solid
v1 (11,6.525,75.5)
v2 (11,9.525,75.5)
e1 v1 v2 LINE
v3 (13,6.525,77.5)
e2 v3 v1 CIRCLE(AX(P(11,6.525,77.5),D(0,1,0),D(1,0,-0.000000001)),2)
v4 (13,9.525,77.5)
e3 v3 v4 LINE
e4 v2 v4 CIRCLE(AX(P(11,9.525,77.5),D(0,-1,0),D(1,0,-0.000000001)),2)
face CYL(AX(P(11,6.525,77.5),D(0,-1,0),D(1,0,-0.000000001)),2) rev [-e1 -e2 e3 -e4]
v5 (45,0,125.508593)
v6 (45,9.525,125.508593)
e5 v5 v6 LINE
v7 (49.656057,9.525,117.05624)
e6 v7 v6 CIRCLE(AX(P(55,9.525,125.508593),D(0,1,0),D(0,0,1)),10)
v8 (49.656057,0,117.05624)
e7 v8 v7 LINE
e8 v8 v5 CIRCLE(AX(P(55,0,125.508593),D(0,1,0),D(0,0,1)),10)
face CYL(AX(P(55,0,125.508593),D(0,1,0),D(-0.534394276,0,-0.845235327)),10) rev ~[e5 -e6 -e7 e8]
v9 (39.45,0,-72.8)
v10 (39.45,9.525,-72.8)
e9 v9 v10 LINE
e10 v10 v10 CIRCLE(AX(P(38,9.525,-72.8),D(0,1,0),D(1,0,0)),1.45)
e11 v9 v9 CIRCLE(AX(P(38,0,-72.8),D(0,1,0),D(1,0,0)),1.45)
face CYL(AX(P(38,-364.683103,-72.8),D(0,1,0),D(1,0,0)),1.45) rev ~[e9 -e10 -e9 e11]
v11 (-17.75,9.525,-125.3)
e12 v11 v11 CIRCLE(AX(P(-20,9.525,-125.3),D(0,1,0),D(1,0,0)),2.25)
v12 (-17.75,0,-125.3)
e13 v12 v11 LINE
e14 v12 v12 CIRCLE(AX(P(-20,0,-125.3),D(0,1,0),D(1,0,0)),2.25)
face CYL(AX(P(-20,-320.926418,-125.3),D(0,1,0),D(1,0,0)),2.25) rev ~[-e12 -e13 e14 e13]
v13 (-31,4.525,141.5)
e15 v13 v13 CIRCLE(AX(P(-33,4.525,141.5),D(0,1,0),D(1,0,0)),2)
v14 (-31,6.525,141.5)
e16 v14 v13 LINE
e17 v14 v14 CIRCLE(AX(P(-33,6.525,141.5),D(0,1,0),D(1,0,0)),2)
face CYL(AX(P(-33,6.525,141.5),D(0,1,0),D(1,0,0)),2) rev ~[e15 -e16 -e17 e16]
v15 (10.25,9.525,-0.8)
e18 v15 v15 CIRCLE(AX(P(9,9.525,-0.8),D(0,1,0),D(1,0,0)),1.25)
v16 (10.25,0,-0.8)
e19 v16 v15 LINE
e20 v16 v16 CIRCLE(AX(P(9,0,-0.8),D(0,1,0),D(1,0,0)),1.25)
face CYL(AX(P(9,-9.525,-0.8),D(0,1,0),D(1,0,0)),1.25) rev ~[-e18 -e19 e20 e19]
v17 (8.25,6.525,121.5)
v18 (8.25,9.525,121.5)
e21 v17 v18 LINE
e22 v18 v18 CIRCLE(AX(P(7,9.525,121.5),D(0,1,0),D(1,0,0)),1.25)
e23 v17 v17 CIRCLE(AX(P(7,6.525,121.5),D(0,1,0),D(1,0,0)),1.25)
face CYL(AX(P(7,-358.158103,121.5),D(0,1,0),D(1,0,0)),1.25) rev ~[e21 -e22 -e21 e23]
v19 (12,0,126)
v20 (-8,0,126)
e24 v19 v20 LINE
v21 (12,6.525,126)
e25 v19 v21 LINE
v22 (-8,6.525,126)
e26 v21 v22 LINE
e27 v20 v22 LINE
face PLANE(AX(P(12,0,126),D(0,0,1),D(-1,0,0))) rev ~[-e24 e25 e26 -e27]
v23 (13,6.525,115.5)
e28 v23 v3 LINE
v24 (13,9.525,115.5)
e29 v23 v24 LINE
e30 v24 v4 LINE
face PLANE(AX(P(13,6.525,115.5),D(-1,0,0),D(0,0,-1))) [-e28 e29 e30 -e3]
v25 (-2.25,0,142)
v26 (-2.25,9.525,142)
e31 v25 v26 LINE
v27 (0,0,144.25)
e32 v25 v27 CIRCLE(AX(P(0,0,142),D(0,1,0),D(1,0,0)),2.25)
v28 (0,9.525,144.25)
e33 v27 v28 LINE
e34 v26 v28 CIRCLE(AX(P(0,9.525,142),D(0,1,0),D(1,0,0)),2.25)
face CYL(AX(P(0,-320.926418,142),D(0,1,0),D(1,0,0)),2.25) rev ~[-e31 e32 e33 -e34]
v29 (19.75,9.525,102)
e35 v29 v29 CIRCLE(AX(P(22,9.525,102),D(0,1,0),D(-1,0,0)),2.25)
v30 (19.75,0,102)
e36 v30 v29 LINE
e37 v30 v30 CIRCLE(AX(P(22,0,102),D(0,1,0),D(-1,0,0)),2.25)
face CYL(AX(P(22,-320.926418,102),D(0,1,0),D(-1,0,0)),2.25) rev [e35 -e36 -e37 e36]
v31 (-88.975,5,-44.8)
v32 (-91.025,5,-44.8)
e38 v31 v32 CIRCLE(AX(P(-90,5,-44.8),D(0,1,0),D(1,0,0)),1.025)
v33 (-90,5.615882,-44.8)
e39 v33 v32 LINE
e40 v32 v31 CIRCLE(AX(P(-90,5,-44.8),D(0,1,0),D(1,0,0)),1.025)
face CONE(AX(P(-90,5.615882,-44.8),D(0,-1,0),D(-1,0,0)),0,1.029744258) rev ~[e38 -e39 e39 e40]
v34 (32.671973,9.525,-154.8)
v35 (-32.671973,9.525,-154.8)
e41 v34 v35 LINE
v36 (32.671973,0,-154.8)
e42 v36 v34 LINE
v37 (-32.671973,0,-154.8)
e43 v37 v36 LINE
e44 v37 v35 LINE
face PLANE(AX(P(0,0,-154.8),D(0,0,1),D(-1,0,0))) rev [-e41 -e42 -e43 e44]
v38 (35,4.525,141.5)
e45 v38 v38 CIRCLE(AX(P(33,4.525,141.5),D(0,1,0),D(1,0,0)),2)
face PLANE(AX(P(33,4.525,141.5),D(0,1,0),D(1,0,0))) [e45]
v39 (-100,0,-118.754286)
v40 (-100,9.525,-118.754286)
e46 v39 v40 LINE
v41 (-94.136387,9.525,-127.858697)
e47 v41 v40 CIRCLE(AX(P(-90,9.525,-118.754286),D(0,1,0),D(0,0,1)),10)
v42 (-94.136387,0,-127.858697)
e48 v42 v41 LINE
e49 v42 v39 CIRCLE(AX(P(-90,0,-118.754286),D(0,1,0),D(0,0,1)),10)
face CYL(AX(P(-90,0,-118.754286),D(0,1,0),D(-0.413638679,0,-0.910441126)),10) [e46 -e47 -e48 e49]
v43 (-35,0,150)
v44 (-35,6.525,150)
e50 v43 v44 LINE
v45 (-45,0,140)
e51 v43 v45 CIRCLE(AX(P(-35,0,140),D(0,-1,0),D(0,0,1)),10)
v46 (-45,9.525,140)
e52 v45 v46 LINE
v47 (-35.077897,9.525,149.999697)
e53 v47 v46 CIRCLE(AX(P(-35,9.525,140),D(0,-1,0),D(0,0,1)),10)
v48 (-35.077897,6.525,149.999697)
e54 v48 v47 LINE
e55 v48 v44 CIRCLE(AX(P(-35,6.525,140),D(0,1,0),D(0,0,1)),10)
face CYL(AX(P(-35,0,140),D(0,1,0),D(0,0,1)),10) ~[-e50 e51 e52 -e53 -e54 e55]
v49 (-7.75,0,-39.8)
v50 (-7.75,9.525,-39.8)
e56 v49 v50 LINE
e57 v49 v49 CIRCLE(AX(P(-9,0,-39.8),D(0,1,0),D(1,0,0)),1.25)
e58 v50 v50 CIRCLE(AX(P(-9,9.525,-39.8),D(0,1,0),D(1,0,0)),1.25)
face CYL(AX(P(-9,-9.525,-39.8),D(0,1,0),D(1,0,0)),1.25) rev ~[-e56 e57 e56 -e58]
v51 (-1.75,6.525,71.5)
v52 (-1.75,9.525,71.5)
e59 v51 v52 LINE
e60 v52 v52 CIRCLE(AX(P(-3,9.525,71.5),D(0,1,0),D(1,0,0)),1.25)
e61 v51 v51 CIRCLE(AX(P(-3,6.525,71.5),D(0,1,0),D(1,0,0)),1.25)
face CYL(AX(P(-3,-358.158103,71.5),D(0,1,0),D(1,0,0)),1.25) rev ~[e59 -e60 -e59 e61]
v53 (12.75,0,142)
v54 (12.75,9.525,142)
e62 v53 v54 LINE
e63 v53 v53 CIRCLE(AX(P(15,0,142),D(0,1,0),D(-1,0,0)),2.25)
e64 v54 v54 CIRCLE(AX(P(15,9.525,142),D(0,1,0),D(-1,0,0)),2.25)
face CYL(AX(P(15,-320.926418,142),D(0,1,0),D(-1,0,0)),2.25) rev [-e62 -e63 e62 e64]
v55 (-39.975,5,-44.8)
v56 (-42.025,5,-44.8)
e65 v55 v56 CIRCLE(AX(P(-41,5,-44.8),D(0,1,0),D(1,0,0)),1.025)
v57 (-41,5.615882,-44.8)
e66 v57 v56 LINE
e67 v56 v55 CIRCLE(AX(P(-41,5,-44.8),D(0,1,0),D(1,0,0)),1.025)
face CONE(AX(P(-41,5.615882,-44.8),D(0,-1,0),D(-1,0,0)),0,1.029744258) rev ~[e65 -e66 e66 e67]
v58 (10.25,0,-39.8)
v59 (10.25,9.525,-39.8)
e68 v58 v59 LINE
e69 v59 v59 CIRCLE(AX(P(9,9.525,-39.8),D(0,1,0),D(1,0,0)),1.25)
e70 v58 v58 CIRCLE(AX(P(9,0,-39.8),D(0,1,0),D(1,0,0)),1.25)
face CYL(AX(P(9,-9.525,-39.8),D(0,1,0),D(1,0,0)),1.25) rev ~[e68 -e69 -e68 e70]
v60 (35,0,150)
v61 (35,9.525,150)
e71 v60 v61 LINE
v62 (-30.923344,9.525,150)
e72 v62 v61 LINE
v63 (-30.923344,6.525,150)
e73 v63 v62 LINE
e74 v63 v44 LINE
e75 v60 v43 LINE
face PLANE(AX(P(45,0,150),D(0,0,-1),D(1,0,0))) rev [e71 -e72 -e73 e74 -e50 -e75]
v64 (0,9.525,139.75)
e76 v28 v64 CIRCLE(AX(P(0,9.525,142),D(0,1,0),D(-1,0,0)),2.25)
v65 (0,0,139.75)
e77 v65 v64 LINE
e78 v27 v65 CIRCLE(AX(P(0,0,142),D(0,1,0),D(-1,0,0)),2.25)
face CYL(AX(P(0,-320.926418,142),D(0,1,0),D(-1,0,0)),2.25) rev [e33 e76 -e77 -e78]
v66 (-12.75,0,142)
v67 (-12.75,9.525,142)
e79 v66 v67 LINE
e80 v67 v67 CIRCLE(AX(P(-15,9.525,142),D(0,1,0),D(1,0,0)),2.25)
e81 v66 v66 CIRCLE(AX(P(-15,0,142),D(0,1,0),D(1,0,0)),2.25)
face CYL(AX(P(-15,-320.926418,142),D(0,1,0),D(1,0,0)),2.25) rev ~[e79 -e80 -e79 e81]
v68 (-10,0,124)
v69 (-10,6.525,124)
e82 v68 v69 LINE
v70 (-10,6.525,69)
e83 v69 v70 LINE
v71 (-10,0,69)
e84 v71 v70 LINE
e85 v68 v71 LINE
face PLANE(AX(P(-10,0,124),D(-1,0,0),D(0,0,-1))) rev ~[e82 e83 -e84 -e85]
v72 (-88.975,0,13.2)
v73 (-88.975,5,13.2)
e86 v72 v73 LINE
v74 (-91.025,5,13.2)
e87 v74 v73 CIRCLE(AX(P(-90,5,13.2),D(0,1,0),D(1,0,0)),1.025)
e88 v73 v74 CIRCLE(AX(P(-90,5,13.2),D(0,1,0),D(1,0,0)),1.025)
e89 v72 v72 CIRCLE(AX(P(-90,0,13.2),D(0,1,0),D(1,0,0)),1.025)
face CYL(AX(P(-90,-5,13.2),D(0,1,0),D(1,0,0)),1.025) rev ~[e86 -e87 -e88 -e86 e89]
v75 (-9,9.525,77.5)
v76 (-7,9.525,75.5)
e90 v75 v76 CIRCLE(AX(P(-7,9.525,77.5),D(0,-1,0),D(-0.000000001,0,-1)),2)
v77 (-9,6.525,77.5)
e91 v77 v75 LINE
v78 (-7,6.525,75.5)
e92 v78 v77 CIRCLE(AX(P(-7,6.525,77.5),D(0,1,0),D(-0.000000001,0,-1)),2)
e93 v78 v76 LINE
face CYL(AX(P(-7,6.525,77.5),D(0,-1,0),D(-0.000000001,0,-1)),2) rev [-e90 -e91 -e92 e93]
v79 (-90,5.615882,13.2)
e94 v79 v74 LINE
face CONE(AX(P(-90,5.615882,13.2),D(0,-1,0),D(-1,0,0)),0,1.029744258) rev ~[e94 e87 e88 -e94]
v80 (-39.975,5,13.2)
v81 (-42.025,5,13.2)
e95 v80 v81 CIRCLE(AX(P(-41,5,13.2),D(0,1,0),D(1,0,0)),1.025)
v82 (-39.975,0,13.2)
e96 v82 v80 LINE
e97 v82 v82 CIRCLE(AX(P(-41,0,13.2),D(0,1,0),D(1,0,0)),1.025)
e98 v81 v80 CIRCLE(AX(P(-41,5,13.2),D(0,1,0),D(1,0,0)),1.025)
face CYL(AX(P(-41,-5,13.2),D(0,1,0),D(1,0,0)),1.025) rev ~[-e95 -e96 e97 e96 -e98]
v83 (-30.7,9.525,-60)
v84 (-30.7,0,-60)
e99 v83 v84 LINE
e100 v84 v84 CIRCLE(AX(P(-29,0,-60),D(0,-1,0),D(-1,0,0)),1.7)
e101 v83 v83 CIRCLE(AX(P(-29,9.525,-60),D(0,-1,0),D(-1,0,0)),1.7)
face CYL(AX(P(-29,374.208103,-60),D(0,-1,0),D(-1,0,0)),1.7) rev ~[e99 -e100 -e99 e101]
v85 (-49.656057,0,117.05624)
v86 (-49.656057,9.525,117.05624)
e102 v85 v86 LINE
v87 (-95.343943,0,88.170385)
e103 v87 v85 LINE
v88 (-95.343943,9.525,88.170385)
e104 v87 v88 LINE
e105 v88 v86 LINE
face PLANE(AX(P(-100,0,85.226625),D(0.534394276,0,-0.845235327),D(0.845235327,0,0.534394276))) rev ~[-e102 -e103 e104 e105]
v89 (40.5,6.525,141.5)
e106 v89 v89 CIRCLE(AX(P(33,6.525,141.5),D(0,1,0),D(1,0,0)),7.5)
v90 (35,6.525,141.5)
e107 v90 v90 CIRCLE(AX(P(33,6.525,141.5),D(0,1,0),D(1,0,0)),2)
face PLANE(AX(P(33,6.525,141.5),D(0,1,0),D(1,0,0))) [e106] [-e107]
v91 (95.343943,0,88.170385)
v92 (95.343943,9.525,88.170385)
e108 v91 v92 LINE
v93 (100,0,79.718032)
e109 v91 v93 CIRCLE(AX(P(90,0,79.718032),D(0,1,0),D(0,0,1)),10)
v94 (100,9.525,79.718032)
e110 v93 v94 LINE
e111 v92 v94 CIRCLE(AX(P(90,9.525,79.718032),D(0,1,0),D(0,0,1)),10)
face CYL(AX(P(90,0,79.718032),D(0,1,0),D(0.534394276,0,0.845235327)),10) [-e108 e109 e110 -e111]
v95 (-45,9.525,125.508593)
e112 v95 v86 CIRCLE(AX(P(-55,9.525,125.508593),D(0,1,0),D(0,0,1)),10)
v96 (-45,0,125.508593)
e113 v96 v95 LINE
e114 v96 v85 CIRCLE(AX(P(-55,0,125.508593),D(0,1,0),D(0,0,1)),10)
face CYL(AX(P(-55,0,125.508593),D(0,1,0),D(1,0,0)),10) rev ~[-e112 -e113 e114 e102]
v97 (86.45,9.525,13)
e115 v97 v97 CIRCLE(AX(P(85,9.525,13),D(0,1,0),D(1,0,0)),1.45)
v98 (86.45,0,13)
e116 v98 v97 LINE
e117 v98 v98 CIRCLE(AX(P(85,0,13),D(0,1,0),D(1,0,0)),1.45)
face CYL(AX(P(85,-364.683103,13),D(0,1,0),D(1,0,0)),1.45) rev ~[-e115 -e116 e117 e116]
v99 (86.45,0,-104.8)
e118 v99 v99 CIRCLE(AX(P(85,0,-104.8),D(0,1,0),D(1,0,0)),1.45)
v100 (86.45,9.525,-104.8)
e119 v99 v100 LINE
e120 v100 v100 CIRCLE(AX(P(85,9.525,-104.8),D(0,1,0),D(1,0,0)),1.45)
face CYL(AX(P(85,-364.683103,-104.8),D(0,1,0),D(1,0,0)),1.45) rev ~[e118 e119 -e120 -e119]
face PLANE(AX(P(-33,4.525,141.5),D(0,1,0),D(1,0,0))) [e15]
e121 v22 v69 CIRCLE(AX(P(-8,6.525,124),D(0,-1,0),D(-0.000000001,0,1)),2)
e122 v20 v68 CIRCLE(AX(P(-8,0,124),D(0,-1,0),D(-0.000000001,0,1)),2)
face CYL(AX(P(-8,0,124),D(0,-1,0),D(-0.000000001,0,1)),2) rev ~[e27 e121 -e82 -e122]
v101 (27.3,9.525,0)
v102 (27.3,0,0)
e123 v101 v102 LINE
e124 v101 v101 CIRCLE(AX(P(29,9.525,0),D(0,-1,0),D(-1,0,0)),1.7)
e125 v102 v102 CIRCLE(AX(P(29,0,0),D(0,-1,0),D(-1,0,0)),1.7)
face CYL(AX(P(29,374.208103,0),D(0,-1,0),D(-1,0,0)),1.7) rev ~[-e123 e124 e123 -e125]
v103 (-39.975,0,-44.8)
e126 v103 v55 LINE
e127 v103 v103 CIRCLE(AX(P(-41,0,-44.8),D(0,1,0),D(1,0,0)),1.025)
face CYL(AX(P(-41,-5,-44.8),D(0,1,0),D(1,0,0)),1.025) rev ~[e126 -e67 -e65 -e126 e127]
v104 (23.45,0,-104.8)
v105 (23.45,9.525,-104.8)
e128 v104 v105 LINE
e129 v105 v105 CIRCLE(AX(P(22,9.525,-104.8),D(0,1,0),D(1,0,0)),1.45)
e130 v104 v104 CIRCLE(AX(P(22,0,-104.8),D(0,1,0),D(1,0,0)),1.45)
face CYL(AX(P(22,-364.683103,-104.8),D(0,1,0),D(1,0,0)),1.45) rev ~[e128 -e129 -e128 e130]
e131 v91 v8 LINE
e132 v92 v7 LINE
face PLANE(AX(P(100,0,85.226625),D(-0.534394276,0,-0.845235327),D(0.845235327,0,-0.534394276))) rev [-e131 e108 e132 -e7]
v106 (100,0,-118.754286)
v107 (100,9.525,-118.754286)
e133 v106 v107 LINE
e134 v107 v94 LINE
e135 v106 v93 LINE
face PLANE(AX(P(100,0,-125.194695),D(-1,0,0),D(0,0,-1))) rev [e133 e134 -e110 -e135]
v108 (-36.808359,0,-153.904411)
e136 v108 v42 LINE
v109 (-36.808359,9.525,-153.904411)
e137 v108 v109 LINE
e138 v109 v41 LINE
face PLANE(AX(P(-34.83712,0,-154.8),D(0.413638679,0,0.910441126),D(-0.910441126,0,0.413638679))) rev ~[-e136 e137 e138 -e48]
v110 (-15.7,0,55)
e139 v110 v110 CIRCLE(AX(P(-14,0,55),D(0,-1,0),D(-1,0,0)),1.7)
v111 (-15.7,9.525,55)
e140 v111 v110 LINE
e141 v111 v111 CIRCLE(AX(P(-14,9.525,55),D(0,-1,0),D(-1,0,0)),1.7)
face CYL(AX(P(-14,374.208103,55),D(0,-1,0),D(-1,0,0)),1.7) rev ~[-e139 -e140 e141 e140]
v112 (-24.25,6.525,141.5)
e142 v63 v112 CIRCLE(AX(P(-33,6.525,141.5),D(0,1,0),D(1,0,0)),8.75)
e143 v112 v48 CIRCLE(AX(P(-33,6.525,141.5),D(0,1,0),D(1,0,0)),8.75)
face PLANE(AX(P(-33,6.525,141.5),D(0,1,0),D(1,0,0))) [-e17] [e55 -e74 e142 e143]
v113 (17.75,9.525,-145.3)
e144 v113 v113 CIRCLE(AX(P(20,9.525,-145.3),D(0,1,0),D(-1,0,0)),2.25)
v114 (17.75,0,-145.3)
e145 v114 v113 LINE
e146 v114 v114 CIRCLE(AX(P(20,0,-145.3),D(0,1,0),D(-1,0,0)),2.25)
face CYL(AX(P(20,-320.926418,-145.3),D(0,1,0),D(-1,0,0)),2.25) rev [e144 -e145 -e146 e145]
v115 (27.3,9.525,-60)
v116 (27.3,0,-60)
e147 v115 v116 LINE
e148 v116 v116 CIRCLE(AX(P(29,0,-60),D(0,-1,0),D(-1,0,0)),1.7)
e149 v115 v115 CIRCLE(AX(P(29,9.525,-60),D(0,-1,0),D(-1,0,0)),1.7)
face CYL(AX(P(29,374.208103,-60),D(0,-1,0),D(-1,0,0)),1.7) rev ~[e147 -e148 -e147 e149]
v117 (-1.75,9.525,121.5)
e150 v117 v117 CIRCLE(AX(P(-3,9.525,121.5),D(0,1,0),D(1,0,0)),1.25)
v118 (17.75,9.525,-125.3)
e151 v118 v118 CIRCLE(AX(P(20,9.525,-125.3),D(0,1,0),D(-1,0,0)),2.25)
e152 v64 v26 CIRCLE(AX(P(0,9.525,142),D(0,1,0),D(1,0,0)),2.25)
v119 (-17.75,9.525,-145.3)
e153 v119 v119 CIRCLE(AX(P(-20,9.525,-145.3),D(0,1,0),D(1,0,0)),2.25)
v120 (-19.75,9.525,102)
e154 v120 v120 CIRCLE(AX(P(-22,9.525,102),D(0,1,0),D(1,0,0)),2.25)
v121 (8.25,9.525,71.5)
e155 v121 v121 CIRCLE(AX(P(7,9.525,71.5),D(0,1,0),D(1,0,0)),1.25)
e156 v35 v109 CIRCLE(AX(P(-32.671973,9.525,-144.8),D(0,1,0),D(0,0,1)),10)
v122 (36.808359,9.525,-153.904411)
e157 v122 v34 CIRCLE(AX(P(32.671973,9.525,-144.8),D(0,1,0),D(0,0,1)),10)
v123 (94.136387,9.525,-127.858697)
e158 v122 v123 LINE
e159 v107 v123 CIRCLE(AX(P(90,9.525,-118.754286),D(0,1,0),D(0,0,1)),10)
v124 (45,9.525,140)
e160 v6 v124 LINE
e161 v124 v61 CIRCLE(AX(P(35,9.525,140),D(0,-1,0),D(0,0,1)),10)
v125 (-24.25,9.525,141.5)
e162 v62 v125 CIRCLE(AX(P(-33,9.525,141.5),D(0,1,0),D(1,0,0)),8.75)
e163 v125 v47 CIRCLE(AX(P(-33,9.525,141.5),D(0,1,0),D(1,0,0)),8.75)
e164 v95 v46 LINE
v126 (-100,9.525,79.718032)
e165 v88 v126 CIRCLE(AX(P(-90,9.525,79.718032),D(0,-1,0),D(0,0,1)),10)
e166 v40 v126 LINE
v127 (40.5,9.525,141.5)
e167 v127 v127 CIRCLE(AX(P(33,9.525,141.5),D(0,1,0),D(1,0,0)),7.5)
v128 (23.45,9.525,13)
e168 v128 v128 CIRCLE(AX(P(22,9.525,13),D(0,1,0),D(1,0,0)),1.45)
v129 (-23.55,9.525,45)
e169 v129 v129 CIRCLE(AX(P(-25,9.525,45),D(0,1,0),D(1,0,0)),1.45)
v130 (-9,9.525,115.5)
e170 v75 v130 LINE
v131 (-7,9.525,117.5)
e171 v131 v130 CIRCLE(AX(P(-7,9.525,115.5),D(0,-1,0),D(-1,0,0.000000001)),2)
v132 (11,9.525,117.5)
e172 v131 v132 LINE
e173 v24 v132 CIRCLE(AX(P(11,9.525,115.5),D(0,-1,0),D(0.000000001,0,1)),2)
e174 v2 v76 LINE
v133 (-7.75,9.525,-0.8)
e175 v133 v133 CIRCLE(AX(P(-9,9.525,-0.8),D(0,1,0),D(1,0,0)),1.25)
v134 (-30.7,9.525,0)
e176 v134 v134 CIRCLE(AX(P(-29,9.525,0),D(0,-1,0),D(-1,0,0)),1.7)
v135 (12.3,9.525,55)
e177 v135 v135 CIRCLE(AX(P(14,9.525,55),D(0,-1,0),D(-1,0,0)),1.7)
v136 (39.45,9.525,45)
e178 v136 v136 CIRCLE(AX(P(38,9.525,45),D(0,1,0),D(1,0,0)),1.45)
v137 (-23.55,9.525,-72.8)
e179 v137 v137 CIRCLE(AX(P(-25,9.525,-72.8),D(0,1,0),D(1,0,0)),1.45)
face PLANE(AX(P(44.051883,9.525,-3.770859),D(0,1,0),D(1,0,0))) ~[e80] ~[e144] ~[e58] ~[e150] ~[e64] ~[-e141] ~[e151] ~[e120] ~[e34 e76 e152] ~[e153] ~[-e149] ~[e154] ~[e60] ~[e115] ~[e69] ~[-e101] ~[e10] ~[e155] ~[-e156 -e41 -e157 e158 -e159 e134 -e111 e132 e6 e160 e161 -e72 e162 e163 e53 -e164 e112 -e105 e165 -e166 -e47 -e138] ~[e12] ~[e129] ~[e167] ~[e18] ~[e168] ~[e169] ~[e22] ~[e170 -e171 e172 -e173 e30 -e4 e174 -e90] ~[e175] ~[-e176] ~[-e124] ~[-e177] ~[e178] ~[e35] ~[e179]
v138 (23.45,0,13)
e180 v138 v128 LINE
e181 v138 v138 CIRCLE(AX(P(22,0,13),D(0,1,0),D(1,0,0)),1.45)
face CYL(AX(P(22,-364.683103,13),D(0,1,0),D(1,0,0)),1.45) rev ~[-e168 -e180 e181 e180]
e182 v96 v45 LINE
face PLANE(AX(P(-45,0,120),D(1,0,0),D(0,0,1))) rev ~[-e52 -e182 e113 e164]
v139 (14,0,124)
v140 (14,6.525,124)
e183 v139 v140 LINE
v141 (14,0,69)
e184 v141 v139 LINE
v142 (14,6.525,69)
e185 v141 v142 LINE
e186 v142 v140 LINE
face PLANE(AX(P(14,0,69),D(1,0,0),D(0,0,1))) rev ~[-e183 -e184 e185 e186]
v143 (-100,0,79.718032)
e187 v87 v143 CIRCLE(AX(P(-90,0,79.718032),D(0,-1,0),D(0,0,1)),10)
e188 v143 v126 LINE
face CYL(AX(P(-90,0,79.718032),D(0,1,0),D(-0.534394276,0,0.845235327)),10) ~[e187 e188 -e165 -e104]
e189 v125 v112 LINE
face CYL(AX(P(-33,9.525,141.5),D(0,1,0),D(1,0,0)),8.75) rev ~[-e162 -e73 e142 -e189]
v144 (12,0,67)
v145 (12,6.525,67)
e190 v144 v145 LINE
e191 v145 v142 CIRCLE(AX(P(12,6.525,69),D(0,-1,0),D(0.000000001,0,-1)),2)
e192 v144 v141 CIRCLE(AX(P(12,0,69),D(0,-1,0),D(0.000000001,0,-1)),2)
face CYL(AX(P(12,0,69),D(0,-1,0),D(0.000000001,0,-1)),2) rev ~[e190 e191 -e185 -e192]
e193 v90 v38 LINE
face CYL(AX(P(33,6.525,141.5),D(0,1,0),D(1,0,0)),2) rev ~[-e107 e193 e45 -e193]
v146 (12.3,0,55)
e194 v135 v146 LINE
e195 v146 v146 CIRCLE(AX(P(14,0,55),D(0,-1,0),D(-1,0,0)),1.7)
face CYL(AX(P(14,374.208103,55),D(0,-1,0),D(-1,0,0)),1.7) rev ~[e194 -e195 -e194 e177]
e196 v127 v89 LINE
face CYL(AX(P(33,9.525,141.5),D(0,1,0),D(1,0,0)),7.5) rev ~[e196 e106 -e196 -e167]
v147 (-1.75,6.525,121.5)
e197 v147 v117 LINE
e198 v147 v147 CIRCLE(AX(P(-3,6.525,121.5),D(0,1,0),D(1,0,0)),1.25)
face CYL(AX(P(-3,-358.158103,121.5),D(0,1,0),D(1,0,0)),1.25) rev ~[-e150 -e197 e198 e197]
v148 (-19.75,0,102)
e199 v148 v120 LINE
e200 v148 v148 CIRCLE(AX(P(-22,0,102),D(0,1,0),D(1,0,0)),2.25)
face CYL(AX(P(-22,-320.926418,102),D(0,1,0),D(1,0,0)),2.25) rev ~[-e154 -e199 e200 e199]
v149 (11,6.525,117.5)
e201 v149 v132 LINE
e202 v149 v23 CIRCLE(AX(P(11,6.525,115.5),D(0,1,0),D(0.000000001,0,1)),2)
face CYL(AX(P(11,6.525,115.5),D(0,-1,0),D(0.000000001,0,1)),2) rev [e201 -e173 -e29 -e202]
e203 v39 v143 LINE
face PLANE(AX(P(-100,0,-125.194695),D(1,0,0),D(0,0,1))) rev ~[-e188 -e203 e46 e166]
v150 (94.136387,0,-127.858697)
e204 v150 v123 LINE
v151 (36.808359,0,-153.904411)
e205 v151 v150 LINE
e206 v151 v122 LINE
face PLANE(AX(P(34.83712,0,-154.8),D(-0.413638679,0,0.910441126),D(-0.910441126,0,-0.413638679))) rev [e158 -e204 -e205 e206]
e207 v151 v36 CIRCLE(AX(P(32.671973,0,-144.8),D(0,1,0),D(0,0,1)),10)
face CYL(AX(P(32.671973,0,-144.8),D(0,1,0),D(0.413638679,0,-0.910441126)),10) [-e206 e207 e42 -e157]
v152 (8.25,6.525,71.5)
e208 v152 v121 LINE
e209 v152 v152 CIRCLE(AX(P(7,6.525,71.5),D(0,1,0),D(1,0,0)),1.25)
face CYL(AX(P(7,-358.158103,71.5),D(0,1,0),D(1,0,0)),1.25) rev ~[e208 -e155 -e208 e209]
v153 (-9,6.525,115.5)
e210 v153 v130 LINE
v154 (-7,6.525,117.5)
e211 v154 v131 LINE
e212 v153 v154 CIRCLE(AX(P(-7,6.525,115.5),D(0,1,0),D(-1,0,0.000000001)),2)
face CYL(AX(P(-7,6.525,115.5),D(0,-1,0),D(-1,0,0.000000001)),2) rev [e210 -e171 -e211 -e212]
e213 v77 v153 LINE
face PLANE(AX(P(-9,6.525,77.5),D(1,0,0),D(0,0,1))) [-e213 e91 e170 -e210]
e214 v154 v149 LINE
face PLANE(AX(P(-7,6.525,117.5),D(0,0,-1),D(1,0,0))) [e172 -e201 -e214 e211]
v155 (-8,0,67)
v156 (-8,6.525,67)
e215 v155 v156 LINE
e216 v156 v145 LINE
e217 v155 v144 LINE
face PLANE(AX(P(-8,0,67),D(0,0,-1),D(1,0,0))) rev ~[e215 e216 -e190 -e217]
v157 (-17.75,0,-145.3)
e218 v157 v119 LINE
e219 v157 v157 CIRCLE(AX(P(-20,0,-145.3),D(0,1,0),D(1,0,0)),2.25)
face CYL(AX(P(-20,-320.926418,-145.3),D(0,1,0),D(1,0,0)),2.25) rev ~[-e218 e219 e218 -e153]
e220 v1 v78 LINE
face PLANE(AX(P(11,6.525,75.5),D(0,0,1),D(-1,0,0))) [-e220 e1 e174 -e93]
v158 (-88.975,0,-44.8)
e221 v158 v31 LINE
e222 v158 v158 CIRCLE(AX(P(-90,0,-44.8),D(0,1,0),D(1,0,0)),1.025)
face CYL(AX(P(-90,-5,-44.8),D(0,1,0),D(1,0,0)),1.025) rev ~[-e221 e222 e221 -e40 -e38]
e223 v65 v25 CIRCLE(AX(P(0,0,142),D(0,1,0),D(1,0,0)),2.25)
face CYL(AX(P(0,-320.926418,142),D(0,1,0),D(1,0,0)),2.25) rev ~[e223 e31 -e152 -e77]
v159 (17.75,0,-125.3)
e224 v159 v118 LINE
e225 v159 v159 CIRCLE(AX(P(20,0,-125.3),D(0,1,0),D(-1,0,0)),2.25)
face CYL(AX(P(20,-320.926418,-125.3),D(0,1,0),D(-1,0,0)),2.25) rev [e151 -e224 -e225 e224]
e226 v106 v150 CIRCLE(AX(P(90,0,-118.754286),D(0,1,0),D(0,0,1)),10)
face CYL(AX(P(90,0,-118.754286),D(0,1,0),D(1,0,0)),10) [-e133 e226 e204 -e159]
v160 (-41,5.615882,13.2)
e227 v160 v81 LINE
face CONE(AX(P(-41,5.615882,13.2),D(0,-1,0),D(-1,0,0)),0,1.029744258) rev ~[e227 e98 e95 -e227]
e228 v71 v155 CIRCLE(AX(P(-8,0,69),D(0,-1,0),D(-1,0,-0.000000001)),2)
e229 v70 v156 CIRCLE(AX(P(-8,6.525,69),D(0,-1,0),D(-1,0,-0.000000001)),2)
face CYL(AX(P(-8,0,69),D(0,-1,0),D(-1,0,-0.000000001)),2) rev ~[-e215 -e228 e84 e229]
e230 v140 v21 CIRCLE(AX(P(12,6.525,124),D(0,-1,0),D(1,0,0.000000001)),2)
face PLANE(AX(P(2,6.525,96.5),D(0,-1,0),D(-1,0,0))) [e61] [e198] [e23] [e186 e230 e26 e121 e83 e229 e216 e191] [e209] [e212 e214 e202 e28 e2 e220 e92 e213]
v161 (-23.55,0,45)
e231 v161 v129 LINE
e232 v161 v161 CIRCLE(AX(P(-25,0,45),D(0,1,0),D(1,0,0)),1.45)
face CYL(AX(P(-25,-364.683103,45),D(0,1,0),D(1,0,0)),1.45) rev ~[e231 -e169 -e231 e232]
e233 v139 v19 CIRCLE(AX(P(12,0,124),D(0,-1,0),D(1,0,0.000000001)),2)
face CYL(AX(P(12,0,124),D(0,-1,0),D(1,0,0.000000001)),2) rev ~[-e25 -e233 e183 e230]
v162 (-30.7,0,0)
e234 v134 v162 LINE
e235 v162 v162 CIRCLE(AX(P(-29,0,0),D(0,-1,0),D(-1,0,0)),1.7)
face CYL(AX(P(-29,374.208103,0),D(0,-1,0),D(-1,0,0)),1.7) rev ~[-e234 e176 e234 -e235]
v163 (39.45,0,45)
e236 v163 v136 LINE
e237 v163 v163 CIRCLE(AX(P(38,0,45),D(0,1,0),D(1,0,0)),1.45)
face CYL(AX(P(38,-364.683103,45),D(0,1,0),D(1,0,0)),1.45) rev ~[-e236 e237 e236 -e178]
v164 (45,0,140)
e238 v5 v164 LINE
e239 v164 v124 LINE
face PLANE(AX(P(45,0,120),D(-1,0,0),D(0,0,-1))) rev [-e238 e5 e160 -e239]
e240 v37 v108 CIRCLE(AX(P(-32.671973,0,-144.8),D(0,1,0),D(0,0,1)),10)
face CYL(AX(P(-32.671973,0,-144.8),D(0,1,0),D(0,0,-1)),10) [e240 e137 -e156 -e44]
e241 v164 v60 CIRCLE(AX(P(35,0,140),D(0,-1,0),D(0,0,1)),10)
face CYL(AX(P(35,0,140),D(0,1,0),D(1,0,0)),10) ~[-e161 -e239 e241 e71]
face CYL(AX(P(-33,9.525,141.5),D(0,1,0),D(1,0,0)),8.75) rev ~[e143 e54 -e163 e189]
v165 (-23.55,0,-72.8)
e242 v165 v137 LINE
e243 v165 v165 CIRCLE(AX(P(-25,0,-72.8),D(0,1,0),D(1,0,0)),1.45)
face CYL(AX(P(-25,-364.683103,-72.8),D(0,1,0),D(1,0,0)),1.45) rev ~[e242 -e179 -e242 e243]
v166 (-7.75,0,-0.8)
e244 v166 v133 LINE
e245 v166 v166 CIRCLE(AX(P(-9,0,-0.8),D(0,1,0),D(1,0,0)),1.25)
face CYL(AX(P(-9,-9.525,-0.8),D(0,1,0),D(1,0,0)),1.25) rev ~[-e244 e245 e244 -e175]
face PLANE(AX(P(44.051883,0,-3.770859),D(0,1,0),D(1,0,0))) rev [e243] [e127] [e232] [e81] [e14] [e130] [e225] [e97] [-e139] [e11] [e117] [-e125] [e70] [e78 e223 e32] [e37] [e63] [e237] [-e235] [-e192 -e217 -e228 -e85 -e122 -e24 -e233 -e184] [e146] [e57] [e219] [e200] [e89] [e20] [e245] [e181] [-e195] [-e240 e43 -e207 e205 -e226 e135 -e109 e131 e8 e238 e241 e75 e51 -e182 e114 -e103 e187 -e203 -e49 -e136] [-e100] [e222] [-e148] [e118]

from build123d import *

# Parameters (mm, degrees)
CHASSIS_BASE_SHAPE_DEPTH        = 9.525
M4_CLEARANCE_HOLE1_D            = 4.5
M4_CLEARANCE_HOLE2_D            = 4.5
FILLET1_R                       = 10
SERVO_RECESS_DEPTH              = 6.525
SERVO_CUTOUT_DEPTH              = 4
M3X0_5_SERVO_D                  = 2.5
M2_5_CLEARANCE_ESC_D            = 2.9
M2_5X0_45_TAP_FOR_RPI_D         = 2.05
M2_5X0_45_TAP_FOR_RPI_DEPTH     = 5
M2_5X0_45_TAP_FOR_RPI_TIP       = 0.615882135
SKETCH27_R                      = 8.75
SKETCH27_R_2                    = 7.5
BELLCRANK_POSITIONS_DEPTH       = 3
SKETCH28_R                      = 2
DOWEL_SCREW_CAP_SLOTS_DEPTH     = 2
BATTERY_HOLES_D                 = 3.4
TAP_DRILL_FOR_M3X0_5_TAP1_D     = 2.5
TAP_DRILL_FOR_M3X0_5_TAP1_DEPTH = 9.525


with BuildPart() as part:
    # Sketch2 → Chassis Base Shape (new body)
    with BuildSketch(Plane(origin=(0, 0, 0), x_dir=(1, 0, 0), z_dir=(0, 1, 0))):
        Polygon((-100, -85.226624744), (-45, -120), (-45, -150), (0, -150), (0, 0), (0, 154.8), (-34.83712014, 154.8), (-100, 125.194694643), align=None)
    chassis_base_shape = extrude(amount=CHASSIS_BASE_SHAPE_DEPTH)

    # M4 Clearance Hole1 (through all)
    with Locations(Plane(origin=(0, 0, 0), x_dir=(-1, 0, 0), z_dir=(0, -1, 0))):
        with Locations((15, -142), (0, -142), (22, -102)):
            m4_clearance_hole1 = Hole(M4_CLEARANCE_HOLE1_D / 2)

    # M4 Clearance Hole2 (through all)
    with Locations(Plane(origin=(0, 0, 0), x_dir=(-1, 0, 0), z_dir=(0, -1, 0))):
        with Locations((20, 125.3), (20, 145.3)):
            m4_clearance_hole2 = Hole(M4_CLEARANCE_HOLE2_D / 2)

    # Chassis Base Mirror: Chassis Base Shape, M4 Clearance Hole1, M4 Clearance Hole2 across Right Plane
    add(chassis_base_shape.mirror(Plane(origin=(0, 0, 0), x_dir=(0, 0, -1), z_dir=(1, 0, 0))))
    add(m4_clearance_hole1.mirror(Plane(origin=(0, 0, 0), x_dir=(0, 0, -1), z_dir=(1, 0, 0))), mode=Mode.SUBTRACT)
    add(m4_clearance_hole2.mirror(Plane(origin=(0, 0, 0), x_dir=(0, 0, -1), z_dir=(1, 0, 0))), mode=Mode.SUBTRACT)

    # Fillet1
    fillet1_edges = [part.edges().sort_by_distance(p)[0] for p in [
        (-100, 4.7625, -125.194694643),
        (-34.83712014, 4.7625, -154.8),
        (-45, 4.7625, 150),
        (-45, 4.7625, 120),
        (-100, 4.7625, 85.226624744),
        (100, 4.7625, 85.226624744),
        (100, 4.7625, -125.194694643),
        (34.83712014, 4.7625, -154.8),
        (45, 4.7625, 150),
        (45, 4.7625, 120),
    ]]
    fillet(fillet1_edges, radius=FILLET1_R)

    # Sketch7 → Servo Recess (cut)
    with BuildSketch(Plane(origin=(0, 0, 0), x_dir=(-1, 0, 0), z_dir=(0, -1, 0))):
        with BuildLine():
            Line((-12, -126), (8, -126))
            ThreePointArc((8, -126), (9.414213562, -125.414213562), (10, -124))
            Line((10, -124), (10, -69))
            ThreePointArc((10, -69), (9.414213562, -67.585786438), (8, -67))
            Line((8, -67), (-12, -67))
            ThreePointArc((-12, -67), (-13.414213562, -67.585786438), (-14, -69))
            Line((-14, -69), (-14, -124))
            ThreePointArc((-14, -124), (-13.414213562, -125.414213562), (-12, -126))
        make_face()
    extrude(amount=-SERVO_RECESS_DEPTH, mode=Mode.SUBTRACT)

    # Sketch8 → Servo Cutout (cut, through all)
    with BuildSketch(Plane.XZ.offset(-6.525)):
        with BuildLine():
            Line((-7, 117.5), (11, 117.5))
            ThreePointArc((11, 117.5), (12.414213562, 116.914213562), (13, 115.5))
            Line((13, 115.5), (13, 77.5))
            ThreePointArc((13, 77.5), (12.414213562, 76.085786438), (11, 75.5))
            Line((11, 75.5), (-7, 75.5))
            ThreePointArc((-7, 75.5), (-8.414213562, 76.085786438), (-9, 77.5))
            Line((-9, 77.5), (-9, 115.5))
            ThreePointArc((-9, 115.5), (-8.414213562, 116.914213562), (-7, 117.5))
        make_face()
    extrude(amount=-SERVO_CUTOUT_DEPTH, mode=Mode.SUBTRACT)

    # M3x0.5 Servo (through all)
    with Locations(Plane(origin=(0, 6.525, 0), x_dir=(-1, 0, 0), z_dir=(0, -1, 0))):
        with Locations((3, -71.5), (-7, -71.5), (3, -121.5), (-7, -121.5)):
            Hole(M3X0_5_SERVO_D / 2)

    # M2.5 Clearance ESC (through all)
    with Locations(Plane(origin=(0, 0, 0), x_dir=(-1, 0, 0), z_dir=(0, -1, 0))):
        with Locations((25, 72.8), (-85, -13), (25, -45), (-22, -13), (-22, 104.8), (-38, -45), (-85, 104.8), (-38, 72.8)):
            Hole(M2_5_CLEARANCE_ESC_D / 2)

    # M2.5x0.45 Tap for RPi
    with Locations(Plane(origin=(0, 0, 0), x_dir=(-1, 0, 0), z_dir=(0, -1, 0))):
        with Locations((90, -13.2), (41, -13.2), (41, 44.8), (90, 44.8)):
            Hole(M2_5X0_45_TAP_FOR_RPI_D / 2, depth=M2_5X0_45_TAP_FOR_RPI_DEPTH)
            with Locations((0, 0, -(M2_5X0_45_TAP_FOR_RPI_DEPTH + M2_5X0_45_TAP_FOR_RPI_TIP / 2))):  # 118° drill point
                Cone(0, M2_5X0_45_TAP_FOR_RPI_D / 2, M2_5X0_45_TAP_FOR_RPI_TIP, mode=Mode.SUBTRACT)

    # Sketch27 → Bellcrank Positions (cut)
    with BuildSketch(Plane(origin=(0, 9.525, 0), x_dir=(1, 0, 0), z_dir=(0, 1, 0))):
        with Locations((-33, -141.5)):
            Circle(SKETCH27_R)
        with Locations((33, -141.5)):
            Circle(SKETCH27_R_2)
    extrude(amount=-BELLCRANK_POSITIONS_DEPTH, mode=Mode.SUBTRACT)

    # Sketch28 → Dowel Screw Cap Slots (cut)
    with BuildSketch(Plane(origin=(0, 6.525, 0), x_dir=(1, 0, 0), z_dir=(0, 1, 0))):
        with Locations((-33, -141.5)):
            Circle(SKETCH28_R)
        with Locations((33, -141.5)):
            Circle(SKETCH28_R)
    extrude(amount=-DOWEL_SCREW_CAP_SLOTS_DEPTH, mode=Mode.SUBTRACT)

    # Battery Holes (through all)
    with Locations(Plane(origin=(0, 9.525, 0), x_dir=(1, 0, 0), z_dir=(0, 1, 0))):
        with Locations((-14, -55), (-29, 0), (-29, 60), (29, 60), (29, 0), (14, -55)):
            Hole(BATTERY_HOLES_D / 2)

    # Tap Drill for M3x0.5 Tap1
    with Locations(Plane(origin=(0, 0, 0), x_dir=(-1, 0, 0), z_dir=(0, -1, 0))):
        with Locations((9, 0.8), (-9, 0.8), (9, 39.8), (-9, 39.8)):
            Hole(TAP_DRILL_FOR_M3X0_5_TAP1_D / 2, depth=TAP_DRILL_FOR_M3X0_5_TAP1_DEPTH)


solid = part.part
